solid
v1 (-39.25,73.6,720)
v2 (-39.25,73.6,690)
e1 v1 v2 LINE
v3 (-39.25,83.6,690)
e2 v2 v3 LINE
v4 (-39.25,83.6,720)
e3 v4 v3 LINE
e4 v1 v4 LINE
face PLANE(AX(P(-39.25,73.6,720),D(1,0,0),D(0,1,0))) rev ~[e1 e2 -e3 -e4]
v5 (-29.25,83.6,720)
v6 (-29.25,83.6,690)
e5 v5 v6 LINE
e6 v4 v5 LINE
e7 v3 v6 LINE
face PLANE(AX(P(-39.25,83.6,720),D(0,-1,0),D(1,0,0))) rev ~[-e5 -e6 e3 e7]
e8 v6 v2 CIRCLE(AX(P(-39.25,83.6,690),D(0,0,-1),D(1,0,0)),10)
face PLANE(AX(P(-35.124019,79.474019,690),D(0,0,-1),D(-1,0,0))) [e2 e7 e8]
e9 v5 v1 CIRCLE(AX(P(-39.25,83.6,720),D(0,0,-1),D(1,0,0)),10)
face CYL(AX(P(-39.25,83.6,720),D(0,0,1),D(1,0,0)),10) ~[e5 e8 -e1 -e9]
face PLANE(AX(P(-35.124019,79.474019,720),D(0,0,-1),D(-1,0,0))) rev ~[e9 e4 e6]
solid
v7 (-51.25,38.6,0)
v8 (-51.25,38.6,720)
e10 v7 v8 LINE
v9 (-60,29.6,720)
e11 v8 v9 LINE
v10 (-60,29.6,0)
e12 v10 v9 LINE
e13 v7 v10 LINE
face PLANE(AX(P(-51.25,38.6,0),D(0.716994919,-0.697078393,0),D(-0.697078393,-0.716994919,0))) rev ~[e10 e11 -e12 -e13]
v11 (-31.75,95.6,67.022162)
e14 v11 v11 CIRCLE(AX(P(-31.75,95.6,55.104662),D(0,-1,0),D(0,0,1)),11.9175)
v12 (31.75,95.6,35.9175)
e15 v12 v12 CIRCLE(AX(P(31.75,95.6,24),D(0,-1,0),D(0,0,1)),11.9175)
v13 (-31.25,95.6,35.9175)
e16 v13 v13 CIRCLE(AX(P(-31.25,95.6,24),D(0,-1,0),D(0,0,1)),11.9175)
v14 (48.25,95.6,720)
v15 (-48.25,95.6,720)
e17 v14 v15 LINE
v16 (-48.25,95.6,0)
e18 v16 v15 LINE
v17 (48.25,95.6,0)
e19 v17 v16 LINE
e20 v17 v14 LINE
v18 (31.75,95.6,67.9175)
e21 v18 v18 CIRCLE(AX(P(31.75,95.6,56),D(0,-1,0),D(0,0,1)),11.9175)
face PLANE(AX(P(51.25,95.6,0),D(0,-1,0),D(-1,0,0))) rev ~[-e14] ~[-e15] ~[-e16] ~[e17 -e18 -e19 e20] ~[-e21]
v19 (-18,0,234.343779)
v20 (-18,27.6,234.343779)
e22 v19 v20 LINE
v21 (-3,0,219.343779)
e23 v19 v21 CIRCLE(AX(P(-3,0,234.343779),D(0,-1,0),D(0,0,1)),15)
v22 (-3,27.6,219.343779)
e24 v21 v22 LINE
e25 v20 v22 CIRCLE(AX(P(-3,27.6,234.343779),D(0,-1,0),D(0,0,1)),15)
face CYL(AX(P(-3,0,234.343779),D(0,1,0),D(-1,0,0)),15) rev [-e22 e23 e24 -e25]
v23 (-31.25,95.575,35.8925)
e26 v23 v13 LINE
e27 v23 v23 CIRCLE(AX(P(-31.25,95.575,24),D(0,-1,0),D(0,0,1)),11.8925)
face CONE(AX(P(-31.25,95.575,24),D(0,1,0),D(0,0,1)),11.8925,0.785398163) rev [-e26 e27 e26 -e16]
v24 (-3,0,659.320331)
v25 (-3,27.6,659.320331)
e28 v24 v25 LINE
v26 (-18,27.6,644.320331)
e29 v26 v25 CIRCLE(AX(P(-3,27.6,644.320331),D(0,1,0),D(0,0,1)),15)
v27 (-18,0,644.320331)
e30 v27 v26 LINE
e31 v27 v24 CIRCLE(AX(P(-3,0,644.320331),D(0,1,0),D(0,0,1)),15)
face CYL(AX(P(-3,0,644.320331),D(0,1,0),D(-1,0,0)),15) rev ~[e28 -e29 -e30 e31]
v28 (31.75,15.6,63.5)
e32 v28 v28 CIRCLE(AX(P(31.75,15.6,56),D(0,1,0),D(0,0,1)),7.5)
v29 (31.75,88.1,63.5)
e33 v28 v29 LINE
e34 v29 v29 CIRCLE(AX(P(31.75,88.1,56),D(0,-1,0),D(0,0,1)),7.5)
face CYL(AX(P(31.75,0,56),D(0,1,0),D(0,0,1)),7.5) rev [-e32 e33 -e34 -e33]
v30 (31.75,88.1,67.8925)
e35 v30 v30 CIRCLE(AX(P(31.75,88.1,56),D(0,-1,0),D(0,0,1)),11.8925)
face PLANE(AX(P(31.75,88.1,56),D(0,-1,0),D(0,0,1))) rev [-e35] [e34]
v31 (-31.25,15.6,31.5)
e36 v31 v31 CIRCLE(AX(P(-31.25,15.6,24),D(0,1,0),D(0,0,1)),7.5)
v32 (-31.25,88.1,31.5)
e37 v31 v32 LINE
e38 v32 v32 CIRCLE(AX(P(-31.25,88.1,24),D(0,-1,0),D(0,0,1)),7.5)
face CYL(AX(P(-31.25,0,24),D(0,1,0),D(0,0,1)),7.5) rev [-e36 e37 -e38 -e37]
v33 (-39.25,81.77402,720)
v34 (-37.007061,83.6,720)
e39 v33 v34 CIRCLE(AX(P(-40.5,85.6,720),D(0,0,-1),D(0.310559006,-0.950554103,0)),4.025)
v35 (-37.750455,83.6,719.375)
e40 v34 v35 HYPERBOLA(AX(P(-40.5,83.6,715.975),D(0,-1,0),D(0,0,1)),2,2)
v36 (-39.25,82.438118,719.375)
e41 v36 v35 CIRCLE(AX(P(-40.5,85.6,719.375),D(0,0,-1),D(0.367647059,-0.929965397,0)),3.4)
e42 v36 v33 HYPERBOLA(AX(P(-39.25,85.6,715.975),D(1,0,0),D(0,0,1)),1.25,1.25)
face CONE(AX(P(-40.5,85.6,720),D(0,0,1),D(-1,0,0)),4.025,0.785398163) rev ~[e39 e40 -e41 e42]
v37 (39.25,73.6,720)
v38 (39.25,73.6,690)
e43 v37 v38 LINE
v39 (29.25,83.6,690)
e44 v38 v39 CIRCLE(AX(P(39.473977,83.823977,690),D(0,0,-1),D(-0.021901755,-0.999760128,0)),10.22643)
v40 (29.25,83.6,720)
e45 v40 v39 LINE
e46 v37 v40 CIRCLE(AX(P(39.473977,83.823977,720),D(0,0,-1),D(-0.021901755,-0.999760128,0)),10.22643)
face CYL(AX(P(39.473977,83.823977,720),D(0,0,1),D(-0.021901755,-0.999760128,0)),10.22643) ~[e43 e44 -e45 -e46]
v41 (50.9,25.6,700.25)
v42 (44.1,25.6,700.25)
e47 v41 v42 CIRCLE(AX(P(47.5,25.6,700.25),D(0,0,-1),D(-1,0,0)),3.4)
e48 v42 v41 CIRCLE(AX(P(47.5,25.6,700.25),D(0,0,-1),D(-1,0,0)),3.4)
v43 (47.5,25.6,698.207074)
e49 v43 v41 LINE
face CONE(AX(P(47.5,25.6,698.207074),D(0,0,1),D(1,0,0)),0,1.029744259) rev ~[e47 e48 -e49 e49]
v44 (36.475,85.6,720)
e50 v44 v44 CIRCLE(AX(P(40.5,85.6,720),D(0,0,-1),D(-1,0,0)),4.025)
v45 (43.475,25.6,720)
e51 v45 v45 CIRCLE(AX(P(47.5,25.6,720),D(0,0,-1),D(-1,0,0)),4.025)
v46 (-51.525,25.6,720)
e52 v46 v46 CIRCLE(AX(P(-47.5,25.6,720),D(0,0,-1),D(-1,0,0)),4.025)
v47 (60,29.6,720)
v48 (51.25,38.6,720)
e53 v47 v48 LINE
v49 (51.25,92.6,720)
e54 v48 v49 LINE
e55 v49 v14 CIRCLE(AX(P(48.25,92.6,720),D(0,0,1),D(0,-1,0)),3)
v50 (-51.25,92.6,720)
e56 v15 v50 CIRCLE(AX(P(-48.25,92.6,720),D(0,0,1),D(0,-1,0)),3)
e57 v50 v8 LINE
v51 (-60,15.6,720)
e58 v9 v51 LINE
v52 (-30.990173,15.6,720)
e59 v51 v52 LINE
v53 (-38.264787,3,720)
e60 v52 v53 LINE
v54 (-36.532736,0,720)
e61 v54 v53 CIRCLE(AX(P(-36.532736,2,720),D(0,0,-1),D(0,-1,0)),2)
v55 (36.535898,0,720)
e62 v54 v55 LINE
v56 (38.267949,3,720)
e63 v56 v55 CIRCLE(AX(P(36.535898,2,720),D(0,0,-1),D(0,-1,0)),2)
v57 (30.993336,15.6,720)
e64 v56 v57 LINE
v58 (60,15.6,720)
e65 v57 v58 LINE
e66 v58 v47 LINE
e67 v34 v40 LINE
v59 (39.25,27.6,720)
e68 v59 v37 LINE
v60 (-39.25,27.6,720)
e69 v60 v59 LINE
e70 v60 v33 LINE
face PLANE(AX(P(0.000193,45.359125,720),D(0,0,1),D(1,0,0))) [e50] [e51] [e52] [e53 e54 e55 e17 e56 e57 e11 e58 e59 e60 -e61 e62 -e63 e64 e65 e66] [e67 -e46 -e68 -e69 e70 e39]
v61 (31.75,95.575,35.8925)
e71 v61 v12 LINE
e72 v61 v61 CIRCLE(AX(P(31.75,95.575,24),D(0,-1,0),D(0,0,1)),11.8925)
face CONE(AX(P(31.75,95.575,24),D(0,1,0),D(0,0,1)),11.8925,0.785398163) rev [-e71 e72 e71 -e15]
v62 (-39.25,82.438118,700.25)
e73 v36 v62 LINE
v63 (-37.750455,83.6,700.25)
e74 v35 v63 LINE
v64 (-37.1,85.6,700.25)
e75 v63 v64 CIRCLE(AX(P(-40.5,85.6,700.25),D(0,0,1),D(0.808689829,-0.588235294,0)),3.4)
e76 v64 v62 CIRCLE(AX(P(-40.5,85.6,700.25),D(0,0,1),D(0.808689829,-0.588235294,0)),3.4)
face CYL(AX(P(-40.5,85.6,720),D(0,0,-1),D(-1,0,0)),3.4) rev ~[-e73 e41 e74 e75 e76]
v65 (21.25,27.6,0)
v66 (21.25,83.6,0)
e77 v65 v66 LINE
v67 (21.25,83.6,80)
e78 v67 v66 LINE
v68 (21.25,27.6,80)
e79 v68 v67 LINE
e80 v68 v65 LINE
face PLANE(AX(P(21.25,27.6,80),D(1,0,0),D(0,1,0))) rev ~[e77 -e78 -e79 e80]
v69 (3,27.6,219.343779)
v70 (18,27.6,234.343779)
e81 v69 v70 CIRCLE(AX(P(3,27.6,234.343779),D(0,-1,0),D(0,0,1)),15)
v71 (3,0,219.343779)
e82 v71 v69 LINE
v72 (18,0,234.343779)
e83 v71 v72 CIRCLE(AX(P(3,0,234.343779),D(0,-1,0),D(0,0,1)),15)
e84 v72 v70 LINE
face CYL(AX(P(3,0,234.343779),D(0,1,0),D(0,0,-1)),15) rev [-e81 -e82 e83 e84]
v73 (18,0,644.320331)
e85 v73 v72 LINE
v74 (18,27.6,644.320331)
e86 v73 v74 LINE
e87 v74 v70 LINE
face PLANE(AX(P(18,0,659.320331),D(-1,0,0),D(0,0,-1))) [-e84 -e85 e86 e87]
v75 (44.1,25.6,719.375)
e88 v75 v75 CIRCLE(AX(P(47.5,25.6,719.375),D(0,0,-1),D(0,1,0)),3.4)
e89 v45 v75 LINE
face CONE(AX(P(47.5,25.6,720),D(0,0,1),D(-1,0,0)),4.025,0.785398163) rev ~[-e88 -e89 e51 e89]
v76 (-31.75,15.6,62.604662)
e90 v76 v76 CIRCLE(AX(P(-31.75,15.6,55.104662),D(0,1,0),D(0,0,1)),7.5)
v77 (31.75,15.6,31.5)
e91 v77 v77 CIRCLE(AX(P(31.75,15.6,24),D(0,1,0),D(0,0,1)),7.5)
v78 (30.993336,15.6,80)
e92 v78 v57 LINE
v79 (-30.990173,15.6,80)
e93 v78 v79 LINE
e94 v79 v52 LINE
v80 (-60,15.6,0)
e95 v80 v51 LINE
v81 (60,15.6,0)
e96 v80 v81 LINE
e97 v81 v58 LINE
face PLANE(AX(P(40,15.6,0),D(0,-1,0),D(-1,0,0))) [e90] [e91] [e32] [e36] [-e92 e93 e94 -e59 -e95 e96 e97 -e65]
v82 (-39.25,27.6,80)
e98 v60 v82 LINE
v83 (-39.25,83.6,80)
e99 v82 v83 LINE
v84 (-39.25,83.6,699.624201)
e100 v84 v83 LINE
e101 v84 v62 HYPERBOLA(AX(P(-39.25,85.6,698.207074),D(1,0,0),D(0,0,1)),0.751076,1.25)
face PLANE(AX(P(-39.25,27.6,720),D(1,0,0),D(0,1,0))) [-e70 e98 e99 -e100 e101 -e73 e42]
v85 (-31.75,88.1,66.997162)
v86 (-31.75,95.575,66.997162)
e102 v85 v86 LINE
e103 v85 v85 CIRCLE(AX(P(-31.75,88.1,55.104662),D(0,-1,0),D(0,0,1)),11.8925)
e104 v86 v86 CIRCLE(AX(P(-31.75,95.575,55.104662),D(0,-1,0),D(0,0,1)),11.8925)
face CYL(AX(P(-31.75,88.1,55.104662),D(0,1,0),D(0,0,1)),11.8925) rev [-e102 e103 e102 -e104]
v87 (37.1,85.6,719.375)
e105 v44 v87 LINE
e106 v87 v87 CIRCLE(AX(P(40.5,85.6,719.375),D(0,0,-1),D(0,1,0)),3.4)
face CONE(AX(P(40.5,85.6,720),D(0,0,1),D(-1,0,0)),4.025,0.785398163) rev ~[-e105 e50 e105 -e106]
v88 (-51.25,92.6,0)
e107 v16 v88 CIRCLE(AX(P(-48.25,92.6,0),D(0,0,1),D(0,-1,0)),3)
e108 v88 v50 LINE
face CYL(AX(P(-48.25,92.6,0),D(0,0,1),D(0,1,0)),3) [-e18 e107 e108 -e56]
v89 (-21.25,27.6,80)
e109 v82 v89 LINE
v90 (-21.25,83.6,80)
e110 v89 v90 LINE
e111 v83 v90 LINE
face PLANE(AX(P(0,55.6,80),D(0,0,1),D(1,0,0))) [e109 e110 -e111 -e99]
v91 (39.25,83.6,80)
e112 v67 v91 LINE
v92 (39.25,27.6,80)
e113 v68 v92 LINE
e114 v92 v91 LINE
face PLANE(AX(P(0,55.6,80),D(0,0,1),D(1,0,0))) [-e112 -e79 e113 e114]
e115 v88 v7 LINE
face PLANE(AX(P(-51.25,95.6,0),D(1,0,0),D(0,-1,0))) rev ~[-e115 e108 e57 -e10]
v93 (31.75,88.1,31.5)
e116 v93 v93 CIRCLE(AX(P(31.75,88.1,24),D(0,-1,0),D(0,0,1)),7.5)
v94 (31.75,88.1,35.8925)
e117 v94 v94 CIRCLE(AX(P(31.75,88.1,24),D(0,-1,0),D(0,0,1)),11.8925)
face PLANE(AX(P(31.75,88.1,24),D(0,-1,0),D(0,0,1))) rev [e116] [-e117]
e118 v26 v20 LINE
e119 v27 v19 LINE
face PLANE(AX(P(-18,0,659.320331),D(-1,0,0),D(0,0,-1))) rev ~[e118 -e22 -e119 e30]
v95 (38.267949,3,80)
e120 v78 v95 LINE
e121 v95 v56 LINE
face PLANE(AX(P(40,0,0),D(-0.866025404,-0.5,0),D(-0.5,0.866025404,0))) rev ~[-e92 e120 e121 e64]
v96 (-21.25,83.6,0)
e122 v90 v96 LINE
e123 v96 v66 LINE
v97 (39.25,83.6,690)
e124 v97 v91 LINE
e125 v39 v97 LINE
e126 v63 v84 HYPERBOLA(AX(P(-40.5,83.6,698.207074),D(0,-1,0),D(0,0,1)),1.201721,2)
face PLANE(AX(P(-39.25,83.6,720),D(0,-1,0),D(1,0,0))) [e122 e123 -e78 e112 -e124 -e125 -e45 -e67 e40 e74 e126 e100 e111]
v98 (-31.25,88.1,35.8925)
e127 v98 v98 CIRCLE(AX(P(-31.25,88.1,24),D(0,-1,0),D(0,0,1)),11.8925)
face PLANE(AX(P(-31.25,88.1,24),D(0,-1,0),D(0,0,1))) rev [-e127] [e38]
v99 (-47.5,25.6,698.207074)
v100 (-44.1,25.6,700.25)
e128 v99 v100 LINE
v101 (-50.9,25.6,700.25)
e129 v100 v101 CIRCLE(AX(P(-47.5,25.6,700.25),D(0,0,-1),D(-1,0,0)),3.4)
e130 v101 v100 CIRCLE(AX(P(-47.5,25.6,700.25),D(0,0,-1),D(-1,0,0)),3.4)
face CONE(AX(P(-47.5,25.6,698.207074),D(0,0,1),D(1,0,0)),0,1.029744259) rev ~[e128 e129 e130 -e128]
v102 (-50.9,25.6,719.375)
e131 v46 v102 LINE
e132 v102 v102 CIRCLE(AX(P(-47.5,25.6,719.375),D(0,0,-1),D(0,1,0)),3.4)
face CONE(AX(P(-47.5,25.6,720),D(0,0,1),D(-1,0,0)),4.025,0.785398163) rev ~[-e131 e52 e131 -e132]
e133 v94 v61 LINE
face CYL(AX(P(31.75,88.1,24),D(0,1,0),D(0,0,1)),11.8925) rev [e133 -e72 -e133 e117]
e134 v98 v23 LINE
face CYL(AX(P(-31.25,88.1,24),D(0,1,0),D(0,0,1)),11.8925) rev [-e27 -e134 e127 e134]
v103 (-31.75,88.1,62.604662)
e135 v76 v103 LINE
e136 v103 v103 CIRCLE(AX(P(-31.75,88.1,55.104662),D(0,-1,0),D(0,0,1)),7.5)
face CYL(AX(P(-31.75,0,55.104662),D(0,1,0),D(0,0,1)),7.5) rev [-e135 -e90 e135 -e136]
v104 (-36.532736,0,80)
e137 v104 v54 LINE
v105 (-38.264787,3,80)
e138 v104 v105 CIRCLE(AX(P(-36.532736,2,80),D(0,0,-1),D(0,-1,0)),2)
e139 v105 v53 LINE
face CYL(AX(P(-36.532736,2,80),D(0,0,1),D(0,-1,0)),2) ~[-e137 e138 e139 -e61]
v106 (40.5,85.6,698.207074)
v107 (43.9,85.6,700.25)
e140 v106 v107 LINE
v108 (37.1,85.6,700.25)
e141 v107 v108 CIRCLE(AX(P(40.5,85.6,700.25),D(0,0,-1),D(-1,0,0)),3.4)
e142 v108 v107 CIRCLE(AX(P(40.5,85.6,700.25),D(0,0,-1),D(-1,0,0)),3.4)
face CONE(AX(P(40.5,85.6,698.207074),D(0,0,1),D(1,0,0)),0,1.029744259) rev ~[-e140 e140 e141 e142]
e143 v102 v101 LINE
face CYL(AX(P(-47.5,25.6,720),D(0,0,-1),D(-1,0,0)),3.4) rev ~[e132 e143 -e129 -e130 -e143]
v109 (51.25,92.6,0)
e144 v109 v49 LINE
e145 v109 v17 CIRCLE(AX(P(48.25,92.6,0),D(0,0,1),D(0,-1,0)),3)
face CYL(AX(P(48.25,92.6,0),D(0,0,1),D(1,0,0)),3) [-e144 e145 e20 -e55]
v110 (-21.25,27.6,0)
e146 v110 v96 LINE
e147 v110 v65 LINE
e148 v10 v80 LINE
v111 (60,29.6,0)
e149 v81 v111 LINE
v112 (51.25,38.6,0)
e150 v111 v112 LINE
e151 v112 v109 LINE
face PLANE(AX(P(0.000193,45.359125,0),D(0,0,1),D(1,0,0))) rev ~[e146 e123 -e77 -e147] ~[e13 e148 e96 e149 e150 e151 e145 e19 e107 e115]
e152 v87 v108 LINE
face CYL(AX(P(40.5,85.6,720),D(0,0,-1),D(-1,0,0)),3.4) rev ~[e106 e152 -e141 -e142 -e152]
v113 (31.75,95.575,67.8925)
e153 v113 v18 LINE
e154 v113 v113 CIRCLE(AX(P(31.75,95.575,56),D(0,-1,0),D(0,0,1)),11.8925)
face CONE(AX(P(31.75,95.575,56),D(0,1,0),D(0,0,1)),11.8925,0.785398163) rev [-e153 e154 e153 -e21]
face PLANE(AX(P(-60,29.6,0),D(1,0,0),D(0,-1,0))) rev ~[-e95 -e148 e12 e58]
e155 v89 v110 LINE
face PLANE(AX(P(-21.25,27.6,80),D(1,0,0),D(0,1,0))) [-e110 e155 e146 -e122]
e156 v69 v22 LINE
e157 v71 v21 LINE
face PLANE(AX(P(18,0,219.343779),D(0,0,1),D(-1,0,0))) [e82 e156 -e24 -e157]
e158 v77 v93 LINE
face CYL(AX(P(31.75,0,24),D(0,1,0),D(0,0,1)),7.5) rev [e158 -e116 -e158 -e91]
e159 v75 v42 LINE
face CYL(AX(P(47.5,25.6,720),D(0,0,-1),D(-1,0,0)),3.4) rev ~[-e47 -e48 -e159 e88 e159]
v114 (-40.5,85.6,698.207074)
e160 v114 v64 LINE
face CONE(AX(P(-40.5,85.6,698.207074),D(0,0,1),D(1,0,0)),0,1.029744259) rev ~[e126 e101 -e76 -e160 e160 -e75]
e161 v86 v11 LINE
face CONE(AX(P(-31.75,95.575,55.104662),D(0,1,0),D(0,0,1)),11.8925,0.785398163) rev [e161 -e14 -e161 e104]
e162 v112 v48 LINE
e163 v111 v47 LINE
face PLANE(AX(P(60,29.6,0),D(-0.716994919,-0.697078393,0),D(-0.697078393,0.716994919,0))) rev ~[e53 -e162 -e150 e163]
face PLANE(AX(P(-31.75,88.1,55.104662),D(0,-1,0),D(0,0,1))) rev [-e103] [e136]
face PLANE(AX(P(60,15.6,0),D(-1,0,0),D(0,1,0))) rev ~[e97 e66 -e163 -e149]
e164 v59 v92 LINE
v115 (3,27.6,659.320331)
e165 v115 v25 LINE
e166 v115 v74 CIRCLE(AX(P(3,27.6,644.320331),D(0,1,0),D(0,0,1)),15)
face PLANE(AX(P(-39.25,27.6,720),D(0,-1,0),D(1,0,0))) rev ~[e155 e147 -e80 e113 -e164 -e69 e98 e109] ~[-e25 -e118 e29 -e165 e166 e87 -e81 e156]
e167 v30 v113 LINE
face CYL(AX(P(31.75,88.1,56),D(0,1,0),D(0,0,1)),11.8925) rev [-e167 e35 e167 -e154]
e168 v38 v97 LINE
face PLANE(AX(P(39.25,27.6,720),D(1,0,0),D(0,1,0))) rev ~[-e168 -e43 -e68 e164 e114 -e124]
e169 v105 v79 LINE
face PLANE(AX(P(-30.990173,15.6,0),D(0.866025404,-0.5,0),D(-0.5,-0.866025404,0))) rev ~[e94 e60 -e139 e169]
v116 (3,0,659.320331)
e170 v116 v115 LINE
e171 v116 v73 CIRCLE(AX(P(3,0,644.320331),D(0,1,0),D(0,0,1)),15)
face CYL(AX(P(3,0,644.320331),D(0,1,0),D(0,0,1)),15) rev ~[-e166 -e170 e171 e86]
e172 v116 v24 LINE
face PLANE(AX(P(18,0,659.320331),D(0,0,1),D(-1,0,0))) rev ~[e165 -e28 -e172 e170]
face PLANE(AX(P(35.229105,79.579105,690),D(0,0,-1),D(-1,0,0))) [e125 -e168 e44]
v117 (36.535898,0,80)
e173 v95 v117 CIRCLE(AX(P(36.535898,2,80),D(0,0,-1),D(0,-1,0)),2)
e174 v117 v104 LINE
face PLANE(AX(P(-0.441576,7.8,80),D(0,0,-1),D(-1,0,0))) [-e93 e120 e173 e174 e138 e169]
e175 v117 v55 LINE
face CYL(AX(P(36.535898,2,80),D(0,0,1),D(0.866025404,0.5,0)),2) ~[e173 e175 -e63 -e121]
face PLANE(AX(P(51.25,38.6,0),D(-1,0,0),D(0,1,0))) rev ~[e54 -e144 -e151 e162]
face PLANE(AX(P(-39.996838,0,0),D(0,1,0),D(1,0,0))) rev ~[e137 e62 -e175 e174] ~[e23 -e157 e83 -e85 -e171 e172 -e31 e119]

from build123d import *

# Parameters (mm, degrees)
BOSS_EXTRUDE1_DEPTH                     = 720
SKETCH2_W                               = 80.883152422
SKETCH2_H                               = 15.6
CUT_EXTRUDE1_DEPTH                      = 80
CBORE_FOR_M12_HEX_HEAD_BOLT1_AT_2_COUNT = 2
CBORE_FOR_M12_HEX_HEAD_BOLT1_AT_2_PITCH = 63
CBORE_FOR_M12_HEX_HEAD_BOLT2_AT_2_COUNT = 2
CBORE_FOR_M12_HEX_HEAD_BOLT2_AT_2_PITCH = 63.506311734
SKETCH8_W                               = 78.5
SKETCH8_H                               = 56
CUT_EXTRUDE2_DEPTH                      = 640
SKETCH9_W                               = 42.5
SKETCH9_H                               = 56
CUT_EXTRUDE3_DEPTH                      = 90
BOSS_EXTRUDE3_DEPTH                     = 30
M8_TAPPED_HOLE1_D                       = 6.8
M8_TAPPED_HOLE1_DEPTH                   = 19.75
M8_TAPPED_HOLE1_CSINK_D                 = 8.05
M8_TAPPED_HOLE1_CSINK_ANGLE             = 90
M8_TAPPED_HOLE1_TIP                     = 2.042926105
M8_TAPPED_HOLE2_D                       = 6.8
M8_TAPPED_HOLE2_DEPTH                   = 19.75
M8_TAPPED_HOLE2_CSINK_D                 = 8.05
M8_TAPPED_HOLE2_CSINK_ANGLE             = 90
M8_TAPPED_HOLE2_TIP                     = 2.042926105
SKETCH16_W                              = 36
SKETCH16_H                              = 439.976552226
CUT_EXTRUDE4_DEPTH                      = 30
FILLET1_R                               = 15
FILLET2_R                               = 15
FILLET3_R                               = 15
FILLET4_R                               = 15
FILLET5_R                               = 3
FILLET6_R                               = 3
FILLET7_R                               = 2
FILLET8_R                               = 2
BOSS_EXTRUDE4_DEPTH                     = 30


with BuildPart() as part:
    # Sketch1 → Boss-Extrude1 (new body)
    with BuildSketch(Plane.XY):
        Polygon((-39.996837695, 0), (40, 0), (30.993335801, 15.6), (60, 15.6), (60, 29.6), (51.25, 38.6), (51.25, 95.6), (-51.25, 95.6), (-51.25, 38.6), (-60, 29.6), (-60, 15.6), (-30.990173495, 15.6), align=None)
    extrude(amount=BOSS_EXTRUDE1_DEPTH)

    # Sketch2 → Cut-Extrude1 (cut)
    with BuildSketch(Plane(origin=(0, 0, 0), x_dir=(-1, 0, 0), z_dir=(0, 0, -1))):
        with Locations((0.441576211, 7.8)):
            Rectangle(SKETCH2_W, SKETCH2_H)
    extrude(amount=-CUT_EXTRUDE1_DEPTH, mode=Mode.SUBTRACT)

    # Sketch6 → CBORE for M12 Hex Head Bolt1 (revolve, cut)
    with BuildSketch(Plane(origin=(31.75, 95.6, 24), x_dir=(0, 0, 1), z_dir=(1, 0, 0))):
        Polygon((0, 0), (0, 95.6), (7.5, 95.6), (7.5, 7.5), (11.8925, 7.5), (11.8925, 0.025), (11.9175, 0), align=None)
    cbore_for_m12_hex_head_bolt1 = revolve(axis=Axis((31.75, 101.95, 24), (0, -1, 0)), mode=Mode.SUBTRACT)

    # CBORE for M12 Hex Head Bolt1 at 2: CBORE for M12 Hex Head Bolt1 ×2
    with Locations(*[(-i * CBORE_FOR_M12_HEX_HEAD_BOLT1_AT_2_PITCH, 0, 0) for i in range(1, CBORE_FOR_M12_HEX_HEAD_BOLT1_AT_2_COUNT)]):
        add(cbore_for_m12_hex_head_bolt1, mode=Mode.SUBTRACT)

    # Sketch7 → CBORE for M12 Hex Head Bolt2 (revolve, cut)
    with BuildSketch(Plane(origin=(31.75, 95.6, 56), x_dir=(0, 0, 1), z_dir=(1, 0, 0))):
        Polygon((0, 0), (0, 95.6), (7.5, 95.6), (7.5, 7.5), (11.8925, 7.5), (11.8925, 0.025), (11.9175, 0), align=None)
    cbore_for_m12_hex_head_bolt2 = revolve(axis=Axis((31.75, 101.95, 56), (0, -1, 0)), mode=Mode.SUBTRACT)

    # CBORE for M12 Hex Head Bolt2 at 2: CBORE for M12 Hex Head Bolt2 ×2
    with Locations(*[Vector(-0.999900612489988, 0, -0.014098409206251253) * (i * CBORE_FOR_M12_HEX_HEAD_BOLT2_AT_2_PITCH) for i in range(1, CBORE_FOR_M12_HEX_HEAD_BOLT2_AT_2_COUNT)]):
        add(cbore_for_m12_hex_head_bolt2, mode=Mode.SUBTRACT)

    # Sketch8 → Cut-Extrude2 (cut)
    with BuildSketch(Plane.XY.offset(720)):
        with Locations((0, 55.6)):
            Rectangle(SKETCH8_W, SKETCH8_H)
    extrude(amount=-CUT_EXTRUDE2_DEPTH, mode=Mode.SUBTRACT)

    # Sketch9 → Cut-Extrude3 (cut)
    with BuildSketch(Plane.XY.offset(80)):
        with Locations((0, 55.6)):
            Rectangle(SKETCH9_W, SKETCH9_H)
    extrude(amount=-CUT_EXTRUDE3_DEPTH, mode=Mode.SUBTRACT)

    # Sketch12 → Boss-Extrude3 (add)
    with BuildSketch(Plane.XY.offset(720)):
        with BuildLine():
            Line((29.25, 83.6), (39.473976763, 83.823976763))
            Line((39.473976763, 83.823976763), (39.25, 73.6))
            ThreePointArc((39.25, 73.6), (32.242798905, 76.592798905), (29.25, 83.6))
        make_face()
    extrude(amount=-BOSS_EXTRUDE3_DEPTH)

    # M8 Tapped Hole1
    with Locations(Plane(origin=(-40.5, 85.6, 720), x_dir=(1, 0, 0), z_dir=(0, 0, 1))):
        with Locations((0, 0), (81, 0)):
            CounterSinkHole(M8_TAPPED_HOLE1_D / 2, M8_TAPPED_HOLE1_CSINK_D / 2, depth=M8_TAPPED_HOLE1_DEPTH, counter_sink_angle=M8_TAPPED_HOLE1_CSINK_ANGLE)
            with Locations((0, 0, -(M8_TAPPED_HOLE1_DEPTH + M8_TAPPED_HOLE1_TIP / 2))):  # 118° drill point
                Cone(0, M8_TAPPED_HOLE1_D / 2, M8_TAPPED_HOLE1_TIP, mode=Mode.SUBTRACT)

    # M8 Tapped Hole2
    with Locations(Plane(origin=(-47.5, 25.6, 720), x_dir=(1, 0, 0), z_dir=(0, 0, 1))):
        with Locations((0, 0), (95, 0)):
            CounterSinkHole(M8_TAPPED_HOLE2_D / 2, M8_TAPPED_HOLE2_CSINK_D / 2, depth=M8_TAPPED_HOLE2_DEPTH, counter_sink_angle=M8_TAPPED_HOLE2_CSINK_ANGLE)
            with Locations((0, 0, -(M8_TAPPED_HOLE2_DEPTH + M8_TAPPED_HOLE2_TIP / 2))):  # 118° drill point
                Cone(0, M8_TAPPED_HOLE2_D / 2, M8_TAPPED_HOLE2_TIP, mode=Mode.SUBTRACT)

    # Sketch16 → Cut-Extrude4 (cut)
    with BuildSketch(Plane(origin=(0, 0, 0), x_dir=(-1, 0, 0), z_dir=(0, -1, 0))):
        with Locations((0, -439.332055324)):
            Rectangle(SKETCH16_W, SKETCH16_H)
    extrude(amount=-CUT_EXTRUDE4_DEPTH, mode=Mode.SUBTRACT)

    # Fillet1
    fillet1_edges = [part.edges().sort_by_distance(p)[0] for p in [
        (-18, 13.8, 659.320331437),
    ]]
    fillet(fillet1_edges, radius=FILLET1_R)

    # Fillet2
    fillet2_edges = [part.edges().sort_by_distance(p)[0] for p in [
        (18, 13.8, 659.320331437),
    ]]
    fillet(fillet2_edges, radius=FILLET2_R)

    # Fillet3
    fillet3_edges = [part.edges().sort_by_distance(p)[0] for p in [
        (-18, 13.8, 219.343779211),
    ]]
    fillet(fillet3_edges, radius=FILLET3_R)

    # Fillet4
    fillet4_edges = [part.edges().sort_by_distance(p)[0] for p in [
        (18, 13.8, 219.343779211),
    ]]
    fillet(fillet4_edges, radius=FILLET4_R)

    # Fillet5
    fillet5_edges = [part.edges().sort_by_distance(p)[0] for p in [
        (51.25, 95.6, 360),
    ]]
    fillet(fillet5_edges, radius=FILLET5_R)

    # Fillet6
    fillet6_edges = [part.edges().sort_by_distance(p)[0] for p in [
        (-51.25, 95.6, 360),
    ]]
    fillet(fillet6_edges, radius=FILLET6_R)

    # Fillet7
    fillet7_edges = [part.edges().sort_by_distance(p)[0] for p in [
        (40, 0, 400),
    ]]
    fillet(fillet7_edges, radius=FILLET7_R)

    # Fillet8
    fillet8_edges = [part.edges().sort_by_distance(p)[0] for p in [
        (-39.996837695, 0, 400),
    ]]
    fillet(fillet8_edges, radius=FILLET8_R)


with BuildPart() as body_2:
    # Sketch17 → Boss-Extrude4 (new body)
    with BuildSketch(Plane.XY.offset(720)):
        with BuildLine():
            Line((-39.25, 73.6), (-39.25, 83.6))
            Line((-39.25, 83.6), (-29.25, 83.6))
            ThreePointArc((-29.25, 83.6), (-32.178932188, 76.528932188), (-39.25, 73.6))
        make_face()
    extrude(amount=-BOSS_EXTRUDE4_DEPTH)


solid = Compound([part.part, body_2.part])
